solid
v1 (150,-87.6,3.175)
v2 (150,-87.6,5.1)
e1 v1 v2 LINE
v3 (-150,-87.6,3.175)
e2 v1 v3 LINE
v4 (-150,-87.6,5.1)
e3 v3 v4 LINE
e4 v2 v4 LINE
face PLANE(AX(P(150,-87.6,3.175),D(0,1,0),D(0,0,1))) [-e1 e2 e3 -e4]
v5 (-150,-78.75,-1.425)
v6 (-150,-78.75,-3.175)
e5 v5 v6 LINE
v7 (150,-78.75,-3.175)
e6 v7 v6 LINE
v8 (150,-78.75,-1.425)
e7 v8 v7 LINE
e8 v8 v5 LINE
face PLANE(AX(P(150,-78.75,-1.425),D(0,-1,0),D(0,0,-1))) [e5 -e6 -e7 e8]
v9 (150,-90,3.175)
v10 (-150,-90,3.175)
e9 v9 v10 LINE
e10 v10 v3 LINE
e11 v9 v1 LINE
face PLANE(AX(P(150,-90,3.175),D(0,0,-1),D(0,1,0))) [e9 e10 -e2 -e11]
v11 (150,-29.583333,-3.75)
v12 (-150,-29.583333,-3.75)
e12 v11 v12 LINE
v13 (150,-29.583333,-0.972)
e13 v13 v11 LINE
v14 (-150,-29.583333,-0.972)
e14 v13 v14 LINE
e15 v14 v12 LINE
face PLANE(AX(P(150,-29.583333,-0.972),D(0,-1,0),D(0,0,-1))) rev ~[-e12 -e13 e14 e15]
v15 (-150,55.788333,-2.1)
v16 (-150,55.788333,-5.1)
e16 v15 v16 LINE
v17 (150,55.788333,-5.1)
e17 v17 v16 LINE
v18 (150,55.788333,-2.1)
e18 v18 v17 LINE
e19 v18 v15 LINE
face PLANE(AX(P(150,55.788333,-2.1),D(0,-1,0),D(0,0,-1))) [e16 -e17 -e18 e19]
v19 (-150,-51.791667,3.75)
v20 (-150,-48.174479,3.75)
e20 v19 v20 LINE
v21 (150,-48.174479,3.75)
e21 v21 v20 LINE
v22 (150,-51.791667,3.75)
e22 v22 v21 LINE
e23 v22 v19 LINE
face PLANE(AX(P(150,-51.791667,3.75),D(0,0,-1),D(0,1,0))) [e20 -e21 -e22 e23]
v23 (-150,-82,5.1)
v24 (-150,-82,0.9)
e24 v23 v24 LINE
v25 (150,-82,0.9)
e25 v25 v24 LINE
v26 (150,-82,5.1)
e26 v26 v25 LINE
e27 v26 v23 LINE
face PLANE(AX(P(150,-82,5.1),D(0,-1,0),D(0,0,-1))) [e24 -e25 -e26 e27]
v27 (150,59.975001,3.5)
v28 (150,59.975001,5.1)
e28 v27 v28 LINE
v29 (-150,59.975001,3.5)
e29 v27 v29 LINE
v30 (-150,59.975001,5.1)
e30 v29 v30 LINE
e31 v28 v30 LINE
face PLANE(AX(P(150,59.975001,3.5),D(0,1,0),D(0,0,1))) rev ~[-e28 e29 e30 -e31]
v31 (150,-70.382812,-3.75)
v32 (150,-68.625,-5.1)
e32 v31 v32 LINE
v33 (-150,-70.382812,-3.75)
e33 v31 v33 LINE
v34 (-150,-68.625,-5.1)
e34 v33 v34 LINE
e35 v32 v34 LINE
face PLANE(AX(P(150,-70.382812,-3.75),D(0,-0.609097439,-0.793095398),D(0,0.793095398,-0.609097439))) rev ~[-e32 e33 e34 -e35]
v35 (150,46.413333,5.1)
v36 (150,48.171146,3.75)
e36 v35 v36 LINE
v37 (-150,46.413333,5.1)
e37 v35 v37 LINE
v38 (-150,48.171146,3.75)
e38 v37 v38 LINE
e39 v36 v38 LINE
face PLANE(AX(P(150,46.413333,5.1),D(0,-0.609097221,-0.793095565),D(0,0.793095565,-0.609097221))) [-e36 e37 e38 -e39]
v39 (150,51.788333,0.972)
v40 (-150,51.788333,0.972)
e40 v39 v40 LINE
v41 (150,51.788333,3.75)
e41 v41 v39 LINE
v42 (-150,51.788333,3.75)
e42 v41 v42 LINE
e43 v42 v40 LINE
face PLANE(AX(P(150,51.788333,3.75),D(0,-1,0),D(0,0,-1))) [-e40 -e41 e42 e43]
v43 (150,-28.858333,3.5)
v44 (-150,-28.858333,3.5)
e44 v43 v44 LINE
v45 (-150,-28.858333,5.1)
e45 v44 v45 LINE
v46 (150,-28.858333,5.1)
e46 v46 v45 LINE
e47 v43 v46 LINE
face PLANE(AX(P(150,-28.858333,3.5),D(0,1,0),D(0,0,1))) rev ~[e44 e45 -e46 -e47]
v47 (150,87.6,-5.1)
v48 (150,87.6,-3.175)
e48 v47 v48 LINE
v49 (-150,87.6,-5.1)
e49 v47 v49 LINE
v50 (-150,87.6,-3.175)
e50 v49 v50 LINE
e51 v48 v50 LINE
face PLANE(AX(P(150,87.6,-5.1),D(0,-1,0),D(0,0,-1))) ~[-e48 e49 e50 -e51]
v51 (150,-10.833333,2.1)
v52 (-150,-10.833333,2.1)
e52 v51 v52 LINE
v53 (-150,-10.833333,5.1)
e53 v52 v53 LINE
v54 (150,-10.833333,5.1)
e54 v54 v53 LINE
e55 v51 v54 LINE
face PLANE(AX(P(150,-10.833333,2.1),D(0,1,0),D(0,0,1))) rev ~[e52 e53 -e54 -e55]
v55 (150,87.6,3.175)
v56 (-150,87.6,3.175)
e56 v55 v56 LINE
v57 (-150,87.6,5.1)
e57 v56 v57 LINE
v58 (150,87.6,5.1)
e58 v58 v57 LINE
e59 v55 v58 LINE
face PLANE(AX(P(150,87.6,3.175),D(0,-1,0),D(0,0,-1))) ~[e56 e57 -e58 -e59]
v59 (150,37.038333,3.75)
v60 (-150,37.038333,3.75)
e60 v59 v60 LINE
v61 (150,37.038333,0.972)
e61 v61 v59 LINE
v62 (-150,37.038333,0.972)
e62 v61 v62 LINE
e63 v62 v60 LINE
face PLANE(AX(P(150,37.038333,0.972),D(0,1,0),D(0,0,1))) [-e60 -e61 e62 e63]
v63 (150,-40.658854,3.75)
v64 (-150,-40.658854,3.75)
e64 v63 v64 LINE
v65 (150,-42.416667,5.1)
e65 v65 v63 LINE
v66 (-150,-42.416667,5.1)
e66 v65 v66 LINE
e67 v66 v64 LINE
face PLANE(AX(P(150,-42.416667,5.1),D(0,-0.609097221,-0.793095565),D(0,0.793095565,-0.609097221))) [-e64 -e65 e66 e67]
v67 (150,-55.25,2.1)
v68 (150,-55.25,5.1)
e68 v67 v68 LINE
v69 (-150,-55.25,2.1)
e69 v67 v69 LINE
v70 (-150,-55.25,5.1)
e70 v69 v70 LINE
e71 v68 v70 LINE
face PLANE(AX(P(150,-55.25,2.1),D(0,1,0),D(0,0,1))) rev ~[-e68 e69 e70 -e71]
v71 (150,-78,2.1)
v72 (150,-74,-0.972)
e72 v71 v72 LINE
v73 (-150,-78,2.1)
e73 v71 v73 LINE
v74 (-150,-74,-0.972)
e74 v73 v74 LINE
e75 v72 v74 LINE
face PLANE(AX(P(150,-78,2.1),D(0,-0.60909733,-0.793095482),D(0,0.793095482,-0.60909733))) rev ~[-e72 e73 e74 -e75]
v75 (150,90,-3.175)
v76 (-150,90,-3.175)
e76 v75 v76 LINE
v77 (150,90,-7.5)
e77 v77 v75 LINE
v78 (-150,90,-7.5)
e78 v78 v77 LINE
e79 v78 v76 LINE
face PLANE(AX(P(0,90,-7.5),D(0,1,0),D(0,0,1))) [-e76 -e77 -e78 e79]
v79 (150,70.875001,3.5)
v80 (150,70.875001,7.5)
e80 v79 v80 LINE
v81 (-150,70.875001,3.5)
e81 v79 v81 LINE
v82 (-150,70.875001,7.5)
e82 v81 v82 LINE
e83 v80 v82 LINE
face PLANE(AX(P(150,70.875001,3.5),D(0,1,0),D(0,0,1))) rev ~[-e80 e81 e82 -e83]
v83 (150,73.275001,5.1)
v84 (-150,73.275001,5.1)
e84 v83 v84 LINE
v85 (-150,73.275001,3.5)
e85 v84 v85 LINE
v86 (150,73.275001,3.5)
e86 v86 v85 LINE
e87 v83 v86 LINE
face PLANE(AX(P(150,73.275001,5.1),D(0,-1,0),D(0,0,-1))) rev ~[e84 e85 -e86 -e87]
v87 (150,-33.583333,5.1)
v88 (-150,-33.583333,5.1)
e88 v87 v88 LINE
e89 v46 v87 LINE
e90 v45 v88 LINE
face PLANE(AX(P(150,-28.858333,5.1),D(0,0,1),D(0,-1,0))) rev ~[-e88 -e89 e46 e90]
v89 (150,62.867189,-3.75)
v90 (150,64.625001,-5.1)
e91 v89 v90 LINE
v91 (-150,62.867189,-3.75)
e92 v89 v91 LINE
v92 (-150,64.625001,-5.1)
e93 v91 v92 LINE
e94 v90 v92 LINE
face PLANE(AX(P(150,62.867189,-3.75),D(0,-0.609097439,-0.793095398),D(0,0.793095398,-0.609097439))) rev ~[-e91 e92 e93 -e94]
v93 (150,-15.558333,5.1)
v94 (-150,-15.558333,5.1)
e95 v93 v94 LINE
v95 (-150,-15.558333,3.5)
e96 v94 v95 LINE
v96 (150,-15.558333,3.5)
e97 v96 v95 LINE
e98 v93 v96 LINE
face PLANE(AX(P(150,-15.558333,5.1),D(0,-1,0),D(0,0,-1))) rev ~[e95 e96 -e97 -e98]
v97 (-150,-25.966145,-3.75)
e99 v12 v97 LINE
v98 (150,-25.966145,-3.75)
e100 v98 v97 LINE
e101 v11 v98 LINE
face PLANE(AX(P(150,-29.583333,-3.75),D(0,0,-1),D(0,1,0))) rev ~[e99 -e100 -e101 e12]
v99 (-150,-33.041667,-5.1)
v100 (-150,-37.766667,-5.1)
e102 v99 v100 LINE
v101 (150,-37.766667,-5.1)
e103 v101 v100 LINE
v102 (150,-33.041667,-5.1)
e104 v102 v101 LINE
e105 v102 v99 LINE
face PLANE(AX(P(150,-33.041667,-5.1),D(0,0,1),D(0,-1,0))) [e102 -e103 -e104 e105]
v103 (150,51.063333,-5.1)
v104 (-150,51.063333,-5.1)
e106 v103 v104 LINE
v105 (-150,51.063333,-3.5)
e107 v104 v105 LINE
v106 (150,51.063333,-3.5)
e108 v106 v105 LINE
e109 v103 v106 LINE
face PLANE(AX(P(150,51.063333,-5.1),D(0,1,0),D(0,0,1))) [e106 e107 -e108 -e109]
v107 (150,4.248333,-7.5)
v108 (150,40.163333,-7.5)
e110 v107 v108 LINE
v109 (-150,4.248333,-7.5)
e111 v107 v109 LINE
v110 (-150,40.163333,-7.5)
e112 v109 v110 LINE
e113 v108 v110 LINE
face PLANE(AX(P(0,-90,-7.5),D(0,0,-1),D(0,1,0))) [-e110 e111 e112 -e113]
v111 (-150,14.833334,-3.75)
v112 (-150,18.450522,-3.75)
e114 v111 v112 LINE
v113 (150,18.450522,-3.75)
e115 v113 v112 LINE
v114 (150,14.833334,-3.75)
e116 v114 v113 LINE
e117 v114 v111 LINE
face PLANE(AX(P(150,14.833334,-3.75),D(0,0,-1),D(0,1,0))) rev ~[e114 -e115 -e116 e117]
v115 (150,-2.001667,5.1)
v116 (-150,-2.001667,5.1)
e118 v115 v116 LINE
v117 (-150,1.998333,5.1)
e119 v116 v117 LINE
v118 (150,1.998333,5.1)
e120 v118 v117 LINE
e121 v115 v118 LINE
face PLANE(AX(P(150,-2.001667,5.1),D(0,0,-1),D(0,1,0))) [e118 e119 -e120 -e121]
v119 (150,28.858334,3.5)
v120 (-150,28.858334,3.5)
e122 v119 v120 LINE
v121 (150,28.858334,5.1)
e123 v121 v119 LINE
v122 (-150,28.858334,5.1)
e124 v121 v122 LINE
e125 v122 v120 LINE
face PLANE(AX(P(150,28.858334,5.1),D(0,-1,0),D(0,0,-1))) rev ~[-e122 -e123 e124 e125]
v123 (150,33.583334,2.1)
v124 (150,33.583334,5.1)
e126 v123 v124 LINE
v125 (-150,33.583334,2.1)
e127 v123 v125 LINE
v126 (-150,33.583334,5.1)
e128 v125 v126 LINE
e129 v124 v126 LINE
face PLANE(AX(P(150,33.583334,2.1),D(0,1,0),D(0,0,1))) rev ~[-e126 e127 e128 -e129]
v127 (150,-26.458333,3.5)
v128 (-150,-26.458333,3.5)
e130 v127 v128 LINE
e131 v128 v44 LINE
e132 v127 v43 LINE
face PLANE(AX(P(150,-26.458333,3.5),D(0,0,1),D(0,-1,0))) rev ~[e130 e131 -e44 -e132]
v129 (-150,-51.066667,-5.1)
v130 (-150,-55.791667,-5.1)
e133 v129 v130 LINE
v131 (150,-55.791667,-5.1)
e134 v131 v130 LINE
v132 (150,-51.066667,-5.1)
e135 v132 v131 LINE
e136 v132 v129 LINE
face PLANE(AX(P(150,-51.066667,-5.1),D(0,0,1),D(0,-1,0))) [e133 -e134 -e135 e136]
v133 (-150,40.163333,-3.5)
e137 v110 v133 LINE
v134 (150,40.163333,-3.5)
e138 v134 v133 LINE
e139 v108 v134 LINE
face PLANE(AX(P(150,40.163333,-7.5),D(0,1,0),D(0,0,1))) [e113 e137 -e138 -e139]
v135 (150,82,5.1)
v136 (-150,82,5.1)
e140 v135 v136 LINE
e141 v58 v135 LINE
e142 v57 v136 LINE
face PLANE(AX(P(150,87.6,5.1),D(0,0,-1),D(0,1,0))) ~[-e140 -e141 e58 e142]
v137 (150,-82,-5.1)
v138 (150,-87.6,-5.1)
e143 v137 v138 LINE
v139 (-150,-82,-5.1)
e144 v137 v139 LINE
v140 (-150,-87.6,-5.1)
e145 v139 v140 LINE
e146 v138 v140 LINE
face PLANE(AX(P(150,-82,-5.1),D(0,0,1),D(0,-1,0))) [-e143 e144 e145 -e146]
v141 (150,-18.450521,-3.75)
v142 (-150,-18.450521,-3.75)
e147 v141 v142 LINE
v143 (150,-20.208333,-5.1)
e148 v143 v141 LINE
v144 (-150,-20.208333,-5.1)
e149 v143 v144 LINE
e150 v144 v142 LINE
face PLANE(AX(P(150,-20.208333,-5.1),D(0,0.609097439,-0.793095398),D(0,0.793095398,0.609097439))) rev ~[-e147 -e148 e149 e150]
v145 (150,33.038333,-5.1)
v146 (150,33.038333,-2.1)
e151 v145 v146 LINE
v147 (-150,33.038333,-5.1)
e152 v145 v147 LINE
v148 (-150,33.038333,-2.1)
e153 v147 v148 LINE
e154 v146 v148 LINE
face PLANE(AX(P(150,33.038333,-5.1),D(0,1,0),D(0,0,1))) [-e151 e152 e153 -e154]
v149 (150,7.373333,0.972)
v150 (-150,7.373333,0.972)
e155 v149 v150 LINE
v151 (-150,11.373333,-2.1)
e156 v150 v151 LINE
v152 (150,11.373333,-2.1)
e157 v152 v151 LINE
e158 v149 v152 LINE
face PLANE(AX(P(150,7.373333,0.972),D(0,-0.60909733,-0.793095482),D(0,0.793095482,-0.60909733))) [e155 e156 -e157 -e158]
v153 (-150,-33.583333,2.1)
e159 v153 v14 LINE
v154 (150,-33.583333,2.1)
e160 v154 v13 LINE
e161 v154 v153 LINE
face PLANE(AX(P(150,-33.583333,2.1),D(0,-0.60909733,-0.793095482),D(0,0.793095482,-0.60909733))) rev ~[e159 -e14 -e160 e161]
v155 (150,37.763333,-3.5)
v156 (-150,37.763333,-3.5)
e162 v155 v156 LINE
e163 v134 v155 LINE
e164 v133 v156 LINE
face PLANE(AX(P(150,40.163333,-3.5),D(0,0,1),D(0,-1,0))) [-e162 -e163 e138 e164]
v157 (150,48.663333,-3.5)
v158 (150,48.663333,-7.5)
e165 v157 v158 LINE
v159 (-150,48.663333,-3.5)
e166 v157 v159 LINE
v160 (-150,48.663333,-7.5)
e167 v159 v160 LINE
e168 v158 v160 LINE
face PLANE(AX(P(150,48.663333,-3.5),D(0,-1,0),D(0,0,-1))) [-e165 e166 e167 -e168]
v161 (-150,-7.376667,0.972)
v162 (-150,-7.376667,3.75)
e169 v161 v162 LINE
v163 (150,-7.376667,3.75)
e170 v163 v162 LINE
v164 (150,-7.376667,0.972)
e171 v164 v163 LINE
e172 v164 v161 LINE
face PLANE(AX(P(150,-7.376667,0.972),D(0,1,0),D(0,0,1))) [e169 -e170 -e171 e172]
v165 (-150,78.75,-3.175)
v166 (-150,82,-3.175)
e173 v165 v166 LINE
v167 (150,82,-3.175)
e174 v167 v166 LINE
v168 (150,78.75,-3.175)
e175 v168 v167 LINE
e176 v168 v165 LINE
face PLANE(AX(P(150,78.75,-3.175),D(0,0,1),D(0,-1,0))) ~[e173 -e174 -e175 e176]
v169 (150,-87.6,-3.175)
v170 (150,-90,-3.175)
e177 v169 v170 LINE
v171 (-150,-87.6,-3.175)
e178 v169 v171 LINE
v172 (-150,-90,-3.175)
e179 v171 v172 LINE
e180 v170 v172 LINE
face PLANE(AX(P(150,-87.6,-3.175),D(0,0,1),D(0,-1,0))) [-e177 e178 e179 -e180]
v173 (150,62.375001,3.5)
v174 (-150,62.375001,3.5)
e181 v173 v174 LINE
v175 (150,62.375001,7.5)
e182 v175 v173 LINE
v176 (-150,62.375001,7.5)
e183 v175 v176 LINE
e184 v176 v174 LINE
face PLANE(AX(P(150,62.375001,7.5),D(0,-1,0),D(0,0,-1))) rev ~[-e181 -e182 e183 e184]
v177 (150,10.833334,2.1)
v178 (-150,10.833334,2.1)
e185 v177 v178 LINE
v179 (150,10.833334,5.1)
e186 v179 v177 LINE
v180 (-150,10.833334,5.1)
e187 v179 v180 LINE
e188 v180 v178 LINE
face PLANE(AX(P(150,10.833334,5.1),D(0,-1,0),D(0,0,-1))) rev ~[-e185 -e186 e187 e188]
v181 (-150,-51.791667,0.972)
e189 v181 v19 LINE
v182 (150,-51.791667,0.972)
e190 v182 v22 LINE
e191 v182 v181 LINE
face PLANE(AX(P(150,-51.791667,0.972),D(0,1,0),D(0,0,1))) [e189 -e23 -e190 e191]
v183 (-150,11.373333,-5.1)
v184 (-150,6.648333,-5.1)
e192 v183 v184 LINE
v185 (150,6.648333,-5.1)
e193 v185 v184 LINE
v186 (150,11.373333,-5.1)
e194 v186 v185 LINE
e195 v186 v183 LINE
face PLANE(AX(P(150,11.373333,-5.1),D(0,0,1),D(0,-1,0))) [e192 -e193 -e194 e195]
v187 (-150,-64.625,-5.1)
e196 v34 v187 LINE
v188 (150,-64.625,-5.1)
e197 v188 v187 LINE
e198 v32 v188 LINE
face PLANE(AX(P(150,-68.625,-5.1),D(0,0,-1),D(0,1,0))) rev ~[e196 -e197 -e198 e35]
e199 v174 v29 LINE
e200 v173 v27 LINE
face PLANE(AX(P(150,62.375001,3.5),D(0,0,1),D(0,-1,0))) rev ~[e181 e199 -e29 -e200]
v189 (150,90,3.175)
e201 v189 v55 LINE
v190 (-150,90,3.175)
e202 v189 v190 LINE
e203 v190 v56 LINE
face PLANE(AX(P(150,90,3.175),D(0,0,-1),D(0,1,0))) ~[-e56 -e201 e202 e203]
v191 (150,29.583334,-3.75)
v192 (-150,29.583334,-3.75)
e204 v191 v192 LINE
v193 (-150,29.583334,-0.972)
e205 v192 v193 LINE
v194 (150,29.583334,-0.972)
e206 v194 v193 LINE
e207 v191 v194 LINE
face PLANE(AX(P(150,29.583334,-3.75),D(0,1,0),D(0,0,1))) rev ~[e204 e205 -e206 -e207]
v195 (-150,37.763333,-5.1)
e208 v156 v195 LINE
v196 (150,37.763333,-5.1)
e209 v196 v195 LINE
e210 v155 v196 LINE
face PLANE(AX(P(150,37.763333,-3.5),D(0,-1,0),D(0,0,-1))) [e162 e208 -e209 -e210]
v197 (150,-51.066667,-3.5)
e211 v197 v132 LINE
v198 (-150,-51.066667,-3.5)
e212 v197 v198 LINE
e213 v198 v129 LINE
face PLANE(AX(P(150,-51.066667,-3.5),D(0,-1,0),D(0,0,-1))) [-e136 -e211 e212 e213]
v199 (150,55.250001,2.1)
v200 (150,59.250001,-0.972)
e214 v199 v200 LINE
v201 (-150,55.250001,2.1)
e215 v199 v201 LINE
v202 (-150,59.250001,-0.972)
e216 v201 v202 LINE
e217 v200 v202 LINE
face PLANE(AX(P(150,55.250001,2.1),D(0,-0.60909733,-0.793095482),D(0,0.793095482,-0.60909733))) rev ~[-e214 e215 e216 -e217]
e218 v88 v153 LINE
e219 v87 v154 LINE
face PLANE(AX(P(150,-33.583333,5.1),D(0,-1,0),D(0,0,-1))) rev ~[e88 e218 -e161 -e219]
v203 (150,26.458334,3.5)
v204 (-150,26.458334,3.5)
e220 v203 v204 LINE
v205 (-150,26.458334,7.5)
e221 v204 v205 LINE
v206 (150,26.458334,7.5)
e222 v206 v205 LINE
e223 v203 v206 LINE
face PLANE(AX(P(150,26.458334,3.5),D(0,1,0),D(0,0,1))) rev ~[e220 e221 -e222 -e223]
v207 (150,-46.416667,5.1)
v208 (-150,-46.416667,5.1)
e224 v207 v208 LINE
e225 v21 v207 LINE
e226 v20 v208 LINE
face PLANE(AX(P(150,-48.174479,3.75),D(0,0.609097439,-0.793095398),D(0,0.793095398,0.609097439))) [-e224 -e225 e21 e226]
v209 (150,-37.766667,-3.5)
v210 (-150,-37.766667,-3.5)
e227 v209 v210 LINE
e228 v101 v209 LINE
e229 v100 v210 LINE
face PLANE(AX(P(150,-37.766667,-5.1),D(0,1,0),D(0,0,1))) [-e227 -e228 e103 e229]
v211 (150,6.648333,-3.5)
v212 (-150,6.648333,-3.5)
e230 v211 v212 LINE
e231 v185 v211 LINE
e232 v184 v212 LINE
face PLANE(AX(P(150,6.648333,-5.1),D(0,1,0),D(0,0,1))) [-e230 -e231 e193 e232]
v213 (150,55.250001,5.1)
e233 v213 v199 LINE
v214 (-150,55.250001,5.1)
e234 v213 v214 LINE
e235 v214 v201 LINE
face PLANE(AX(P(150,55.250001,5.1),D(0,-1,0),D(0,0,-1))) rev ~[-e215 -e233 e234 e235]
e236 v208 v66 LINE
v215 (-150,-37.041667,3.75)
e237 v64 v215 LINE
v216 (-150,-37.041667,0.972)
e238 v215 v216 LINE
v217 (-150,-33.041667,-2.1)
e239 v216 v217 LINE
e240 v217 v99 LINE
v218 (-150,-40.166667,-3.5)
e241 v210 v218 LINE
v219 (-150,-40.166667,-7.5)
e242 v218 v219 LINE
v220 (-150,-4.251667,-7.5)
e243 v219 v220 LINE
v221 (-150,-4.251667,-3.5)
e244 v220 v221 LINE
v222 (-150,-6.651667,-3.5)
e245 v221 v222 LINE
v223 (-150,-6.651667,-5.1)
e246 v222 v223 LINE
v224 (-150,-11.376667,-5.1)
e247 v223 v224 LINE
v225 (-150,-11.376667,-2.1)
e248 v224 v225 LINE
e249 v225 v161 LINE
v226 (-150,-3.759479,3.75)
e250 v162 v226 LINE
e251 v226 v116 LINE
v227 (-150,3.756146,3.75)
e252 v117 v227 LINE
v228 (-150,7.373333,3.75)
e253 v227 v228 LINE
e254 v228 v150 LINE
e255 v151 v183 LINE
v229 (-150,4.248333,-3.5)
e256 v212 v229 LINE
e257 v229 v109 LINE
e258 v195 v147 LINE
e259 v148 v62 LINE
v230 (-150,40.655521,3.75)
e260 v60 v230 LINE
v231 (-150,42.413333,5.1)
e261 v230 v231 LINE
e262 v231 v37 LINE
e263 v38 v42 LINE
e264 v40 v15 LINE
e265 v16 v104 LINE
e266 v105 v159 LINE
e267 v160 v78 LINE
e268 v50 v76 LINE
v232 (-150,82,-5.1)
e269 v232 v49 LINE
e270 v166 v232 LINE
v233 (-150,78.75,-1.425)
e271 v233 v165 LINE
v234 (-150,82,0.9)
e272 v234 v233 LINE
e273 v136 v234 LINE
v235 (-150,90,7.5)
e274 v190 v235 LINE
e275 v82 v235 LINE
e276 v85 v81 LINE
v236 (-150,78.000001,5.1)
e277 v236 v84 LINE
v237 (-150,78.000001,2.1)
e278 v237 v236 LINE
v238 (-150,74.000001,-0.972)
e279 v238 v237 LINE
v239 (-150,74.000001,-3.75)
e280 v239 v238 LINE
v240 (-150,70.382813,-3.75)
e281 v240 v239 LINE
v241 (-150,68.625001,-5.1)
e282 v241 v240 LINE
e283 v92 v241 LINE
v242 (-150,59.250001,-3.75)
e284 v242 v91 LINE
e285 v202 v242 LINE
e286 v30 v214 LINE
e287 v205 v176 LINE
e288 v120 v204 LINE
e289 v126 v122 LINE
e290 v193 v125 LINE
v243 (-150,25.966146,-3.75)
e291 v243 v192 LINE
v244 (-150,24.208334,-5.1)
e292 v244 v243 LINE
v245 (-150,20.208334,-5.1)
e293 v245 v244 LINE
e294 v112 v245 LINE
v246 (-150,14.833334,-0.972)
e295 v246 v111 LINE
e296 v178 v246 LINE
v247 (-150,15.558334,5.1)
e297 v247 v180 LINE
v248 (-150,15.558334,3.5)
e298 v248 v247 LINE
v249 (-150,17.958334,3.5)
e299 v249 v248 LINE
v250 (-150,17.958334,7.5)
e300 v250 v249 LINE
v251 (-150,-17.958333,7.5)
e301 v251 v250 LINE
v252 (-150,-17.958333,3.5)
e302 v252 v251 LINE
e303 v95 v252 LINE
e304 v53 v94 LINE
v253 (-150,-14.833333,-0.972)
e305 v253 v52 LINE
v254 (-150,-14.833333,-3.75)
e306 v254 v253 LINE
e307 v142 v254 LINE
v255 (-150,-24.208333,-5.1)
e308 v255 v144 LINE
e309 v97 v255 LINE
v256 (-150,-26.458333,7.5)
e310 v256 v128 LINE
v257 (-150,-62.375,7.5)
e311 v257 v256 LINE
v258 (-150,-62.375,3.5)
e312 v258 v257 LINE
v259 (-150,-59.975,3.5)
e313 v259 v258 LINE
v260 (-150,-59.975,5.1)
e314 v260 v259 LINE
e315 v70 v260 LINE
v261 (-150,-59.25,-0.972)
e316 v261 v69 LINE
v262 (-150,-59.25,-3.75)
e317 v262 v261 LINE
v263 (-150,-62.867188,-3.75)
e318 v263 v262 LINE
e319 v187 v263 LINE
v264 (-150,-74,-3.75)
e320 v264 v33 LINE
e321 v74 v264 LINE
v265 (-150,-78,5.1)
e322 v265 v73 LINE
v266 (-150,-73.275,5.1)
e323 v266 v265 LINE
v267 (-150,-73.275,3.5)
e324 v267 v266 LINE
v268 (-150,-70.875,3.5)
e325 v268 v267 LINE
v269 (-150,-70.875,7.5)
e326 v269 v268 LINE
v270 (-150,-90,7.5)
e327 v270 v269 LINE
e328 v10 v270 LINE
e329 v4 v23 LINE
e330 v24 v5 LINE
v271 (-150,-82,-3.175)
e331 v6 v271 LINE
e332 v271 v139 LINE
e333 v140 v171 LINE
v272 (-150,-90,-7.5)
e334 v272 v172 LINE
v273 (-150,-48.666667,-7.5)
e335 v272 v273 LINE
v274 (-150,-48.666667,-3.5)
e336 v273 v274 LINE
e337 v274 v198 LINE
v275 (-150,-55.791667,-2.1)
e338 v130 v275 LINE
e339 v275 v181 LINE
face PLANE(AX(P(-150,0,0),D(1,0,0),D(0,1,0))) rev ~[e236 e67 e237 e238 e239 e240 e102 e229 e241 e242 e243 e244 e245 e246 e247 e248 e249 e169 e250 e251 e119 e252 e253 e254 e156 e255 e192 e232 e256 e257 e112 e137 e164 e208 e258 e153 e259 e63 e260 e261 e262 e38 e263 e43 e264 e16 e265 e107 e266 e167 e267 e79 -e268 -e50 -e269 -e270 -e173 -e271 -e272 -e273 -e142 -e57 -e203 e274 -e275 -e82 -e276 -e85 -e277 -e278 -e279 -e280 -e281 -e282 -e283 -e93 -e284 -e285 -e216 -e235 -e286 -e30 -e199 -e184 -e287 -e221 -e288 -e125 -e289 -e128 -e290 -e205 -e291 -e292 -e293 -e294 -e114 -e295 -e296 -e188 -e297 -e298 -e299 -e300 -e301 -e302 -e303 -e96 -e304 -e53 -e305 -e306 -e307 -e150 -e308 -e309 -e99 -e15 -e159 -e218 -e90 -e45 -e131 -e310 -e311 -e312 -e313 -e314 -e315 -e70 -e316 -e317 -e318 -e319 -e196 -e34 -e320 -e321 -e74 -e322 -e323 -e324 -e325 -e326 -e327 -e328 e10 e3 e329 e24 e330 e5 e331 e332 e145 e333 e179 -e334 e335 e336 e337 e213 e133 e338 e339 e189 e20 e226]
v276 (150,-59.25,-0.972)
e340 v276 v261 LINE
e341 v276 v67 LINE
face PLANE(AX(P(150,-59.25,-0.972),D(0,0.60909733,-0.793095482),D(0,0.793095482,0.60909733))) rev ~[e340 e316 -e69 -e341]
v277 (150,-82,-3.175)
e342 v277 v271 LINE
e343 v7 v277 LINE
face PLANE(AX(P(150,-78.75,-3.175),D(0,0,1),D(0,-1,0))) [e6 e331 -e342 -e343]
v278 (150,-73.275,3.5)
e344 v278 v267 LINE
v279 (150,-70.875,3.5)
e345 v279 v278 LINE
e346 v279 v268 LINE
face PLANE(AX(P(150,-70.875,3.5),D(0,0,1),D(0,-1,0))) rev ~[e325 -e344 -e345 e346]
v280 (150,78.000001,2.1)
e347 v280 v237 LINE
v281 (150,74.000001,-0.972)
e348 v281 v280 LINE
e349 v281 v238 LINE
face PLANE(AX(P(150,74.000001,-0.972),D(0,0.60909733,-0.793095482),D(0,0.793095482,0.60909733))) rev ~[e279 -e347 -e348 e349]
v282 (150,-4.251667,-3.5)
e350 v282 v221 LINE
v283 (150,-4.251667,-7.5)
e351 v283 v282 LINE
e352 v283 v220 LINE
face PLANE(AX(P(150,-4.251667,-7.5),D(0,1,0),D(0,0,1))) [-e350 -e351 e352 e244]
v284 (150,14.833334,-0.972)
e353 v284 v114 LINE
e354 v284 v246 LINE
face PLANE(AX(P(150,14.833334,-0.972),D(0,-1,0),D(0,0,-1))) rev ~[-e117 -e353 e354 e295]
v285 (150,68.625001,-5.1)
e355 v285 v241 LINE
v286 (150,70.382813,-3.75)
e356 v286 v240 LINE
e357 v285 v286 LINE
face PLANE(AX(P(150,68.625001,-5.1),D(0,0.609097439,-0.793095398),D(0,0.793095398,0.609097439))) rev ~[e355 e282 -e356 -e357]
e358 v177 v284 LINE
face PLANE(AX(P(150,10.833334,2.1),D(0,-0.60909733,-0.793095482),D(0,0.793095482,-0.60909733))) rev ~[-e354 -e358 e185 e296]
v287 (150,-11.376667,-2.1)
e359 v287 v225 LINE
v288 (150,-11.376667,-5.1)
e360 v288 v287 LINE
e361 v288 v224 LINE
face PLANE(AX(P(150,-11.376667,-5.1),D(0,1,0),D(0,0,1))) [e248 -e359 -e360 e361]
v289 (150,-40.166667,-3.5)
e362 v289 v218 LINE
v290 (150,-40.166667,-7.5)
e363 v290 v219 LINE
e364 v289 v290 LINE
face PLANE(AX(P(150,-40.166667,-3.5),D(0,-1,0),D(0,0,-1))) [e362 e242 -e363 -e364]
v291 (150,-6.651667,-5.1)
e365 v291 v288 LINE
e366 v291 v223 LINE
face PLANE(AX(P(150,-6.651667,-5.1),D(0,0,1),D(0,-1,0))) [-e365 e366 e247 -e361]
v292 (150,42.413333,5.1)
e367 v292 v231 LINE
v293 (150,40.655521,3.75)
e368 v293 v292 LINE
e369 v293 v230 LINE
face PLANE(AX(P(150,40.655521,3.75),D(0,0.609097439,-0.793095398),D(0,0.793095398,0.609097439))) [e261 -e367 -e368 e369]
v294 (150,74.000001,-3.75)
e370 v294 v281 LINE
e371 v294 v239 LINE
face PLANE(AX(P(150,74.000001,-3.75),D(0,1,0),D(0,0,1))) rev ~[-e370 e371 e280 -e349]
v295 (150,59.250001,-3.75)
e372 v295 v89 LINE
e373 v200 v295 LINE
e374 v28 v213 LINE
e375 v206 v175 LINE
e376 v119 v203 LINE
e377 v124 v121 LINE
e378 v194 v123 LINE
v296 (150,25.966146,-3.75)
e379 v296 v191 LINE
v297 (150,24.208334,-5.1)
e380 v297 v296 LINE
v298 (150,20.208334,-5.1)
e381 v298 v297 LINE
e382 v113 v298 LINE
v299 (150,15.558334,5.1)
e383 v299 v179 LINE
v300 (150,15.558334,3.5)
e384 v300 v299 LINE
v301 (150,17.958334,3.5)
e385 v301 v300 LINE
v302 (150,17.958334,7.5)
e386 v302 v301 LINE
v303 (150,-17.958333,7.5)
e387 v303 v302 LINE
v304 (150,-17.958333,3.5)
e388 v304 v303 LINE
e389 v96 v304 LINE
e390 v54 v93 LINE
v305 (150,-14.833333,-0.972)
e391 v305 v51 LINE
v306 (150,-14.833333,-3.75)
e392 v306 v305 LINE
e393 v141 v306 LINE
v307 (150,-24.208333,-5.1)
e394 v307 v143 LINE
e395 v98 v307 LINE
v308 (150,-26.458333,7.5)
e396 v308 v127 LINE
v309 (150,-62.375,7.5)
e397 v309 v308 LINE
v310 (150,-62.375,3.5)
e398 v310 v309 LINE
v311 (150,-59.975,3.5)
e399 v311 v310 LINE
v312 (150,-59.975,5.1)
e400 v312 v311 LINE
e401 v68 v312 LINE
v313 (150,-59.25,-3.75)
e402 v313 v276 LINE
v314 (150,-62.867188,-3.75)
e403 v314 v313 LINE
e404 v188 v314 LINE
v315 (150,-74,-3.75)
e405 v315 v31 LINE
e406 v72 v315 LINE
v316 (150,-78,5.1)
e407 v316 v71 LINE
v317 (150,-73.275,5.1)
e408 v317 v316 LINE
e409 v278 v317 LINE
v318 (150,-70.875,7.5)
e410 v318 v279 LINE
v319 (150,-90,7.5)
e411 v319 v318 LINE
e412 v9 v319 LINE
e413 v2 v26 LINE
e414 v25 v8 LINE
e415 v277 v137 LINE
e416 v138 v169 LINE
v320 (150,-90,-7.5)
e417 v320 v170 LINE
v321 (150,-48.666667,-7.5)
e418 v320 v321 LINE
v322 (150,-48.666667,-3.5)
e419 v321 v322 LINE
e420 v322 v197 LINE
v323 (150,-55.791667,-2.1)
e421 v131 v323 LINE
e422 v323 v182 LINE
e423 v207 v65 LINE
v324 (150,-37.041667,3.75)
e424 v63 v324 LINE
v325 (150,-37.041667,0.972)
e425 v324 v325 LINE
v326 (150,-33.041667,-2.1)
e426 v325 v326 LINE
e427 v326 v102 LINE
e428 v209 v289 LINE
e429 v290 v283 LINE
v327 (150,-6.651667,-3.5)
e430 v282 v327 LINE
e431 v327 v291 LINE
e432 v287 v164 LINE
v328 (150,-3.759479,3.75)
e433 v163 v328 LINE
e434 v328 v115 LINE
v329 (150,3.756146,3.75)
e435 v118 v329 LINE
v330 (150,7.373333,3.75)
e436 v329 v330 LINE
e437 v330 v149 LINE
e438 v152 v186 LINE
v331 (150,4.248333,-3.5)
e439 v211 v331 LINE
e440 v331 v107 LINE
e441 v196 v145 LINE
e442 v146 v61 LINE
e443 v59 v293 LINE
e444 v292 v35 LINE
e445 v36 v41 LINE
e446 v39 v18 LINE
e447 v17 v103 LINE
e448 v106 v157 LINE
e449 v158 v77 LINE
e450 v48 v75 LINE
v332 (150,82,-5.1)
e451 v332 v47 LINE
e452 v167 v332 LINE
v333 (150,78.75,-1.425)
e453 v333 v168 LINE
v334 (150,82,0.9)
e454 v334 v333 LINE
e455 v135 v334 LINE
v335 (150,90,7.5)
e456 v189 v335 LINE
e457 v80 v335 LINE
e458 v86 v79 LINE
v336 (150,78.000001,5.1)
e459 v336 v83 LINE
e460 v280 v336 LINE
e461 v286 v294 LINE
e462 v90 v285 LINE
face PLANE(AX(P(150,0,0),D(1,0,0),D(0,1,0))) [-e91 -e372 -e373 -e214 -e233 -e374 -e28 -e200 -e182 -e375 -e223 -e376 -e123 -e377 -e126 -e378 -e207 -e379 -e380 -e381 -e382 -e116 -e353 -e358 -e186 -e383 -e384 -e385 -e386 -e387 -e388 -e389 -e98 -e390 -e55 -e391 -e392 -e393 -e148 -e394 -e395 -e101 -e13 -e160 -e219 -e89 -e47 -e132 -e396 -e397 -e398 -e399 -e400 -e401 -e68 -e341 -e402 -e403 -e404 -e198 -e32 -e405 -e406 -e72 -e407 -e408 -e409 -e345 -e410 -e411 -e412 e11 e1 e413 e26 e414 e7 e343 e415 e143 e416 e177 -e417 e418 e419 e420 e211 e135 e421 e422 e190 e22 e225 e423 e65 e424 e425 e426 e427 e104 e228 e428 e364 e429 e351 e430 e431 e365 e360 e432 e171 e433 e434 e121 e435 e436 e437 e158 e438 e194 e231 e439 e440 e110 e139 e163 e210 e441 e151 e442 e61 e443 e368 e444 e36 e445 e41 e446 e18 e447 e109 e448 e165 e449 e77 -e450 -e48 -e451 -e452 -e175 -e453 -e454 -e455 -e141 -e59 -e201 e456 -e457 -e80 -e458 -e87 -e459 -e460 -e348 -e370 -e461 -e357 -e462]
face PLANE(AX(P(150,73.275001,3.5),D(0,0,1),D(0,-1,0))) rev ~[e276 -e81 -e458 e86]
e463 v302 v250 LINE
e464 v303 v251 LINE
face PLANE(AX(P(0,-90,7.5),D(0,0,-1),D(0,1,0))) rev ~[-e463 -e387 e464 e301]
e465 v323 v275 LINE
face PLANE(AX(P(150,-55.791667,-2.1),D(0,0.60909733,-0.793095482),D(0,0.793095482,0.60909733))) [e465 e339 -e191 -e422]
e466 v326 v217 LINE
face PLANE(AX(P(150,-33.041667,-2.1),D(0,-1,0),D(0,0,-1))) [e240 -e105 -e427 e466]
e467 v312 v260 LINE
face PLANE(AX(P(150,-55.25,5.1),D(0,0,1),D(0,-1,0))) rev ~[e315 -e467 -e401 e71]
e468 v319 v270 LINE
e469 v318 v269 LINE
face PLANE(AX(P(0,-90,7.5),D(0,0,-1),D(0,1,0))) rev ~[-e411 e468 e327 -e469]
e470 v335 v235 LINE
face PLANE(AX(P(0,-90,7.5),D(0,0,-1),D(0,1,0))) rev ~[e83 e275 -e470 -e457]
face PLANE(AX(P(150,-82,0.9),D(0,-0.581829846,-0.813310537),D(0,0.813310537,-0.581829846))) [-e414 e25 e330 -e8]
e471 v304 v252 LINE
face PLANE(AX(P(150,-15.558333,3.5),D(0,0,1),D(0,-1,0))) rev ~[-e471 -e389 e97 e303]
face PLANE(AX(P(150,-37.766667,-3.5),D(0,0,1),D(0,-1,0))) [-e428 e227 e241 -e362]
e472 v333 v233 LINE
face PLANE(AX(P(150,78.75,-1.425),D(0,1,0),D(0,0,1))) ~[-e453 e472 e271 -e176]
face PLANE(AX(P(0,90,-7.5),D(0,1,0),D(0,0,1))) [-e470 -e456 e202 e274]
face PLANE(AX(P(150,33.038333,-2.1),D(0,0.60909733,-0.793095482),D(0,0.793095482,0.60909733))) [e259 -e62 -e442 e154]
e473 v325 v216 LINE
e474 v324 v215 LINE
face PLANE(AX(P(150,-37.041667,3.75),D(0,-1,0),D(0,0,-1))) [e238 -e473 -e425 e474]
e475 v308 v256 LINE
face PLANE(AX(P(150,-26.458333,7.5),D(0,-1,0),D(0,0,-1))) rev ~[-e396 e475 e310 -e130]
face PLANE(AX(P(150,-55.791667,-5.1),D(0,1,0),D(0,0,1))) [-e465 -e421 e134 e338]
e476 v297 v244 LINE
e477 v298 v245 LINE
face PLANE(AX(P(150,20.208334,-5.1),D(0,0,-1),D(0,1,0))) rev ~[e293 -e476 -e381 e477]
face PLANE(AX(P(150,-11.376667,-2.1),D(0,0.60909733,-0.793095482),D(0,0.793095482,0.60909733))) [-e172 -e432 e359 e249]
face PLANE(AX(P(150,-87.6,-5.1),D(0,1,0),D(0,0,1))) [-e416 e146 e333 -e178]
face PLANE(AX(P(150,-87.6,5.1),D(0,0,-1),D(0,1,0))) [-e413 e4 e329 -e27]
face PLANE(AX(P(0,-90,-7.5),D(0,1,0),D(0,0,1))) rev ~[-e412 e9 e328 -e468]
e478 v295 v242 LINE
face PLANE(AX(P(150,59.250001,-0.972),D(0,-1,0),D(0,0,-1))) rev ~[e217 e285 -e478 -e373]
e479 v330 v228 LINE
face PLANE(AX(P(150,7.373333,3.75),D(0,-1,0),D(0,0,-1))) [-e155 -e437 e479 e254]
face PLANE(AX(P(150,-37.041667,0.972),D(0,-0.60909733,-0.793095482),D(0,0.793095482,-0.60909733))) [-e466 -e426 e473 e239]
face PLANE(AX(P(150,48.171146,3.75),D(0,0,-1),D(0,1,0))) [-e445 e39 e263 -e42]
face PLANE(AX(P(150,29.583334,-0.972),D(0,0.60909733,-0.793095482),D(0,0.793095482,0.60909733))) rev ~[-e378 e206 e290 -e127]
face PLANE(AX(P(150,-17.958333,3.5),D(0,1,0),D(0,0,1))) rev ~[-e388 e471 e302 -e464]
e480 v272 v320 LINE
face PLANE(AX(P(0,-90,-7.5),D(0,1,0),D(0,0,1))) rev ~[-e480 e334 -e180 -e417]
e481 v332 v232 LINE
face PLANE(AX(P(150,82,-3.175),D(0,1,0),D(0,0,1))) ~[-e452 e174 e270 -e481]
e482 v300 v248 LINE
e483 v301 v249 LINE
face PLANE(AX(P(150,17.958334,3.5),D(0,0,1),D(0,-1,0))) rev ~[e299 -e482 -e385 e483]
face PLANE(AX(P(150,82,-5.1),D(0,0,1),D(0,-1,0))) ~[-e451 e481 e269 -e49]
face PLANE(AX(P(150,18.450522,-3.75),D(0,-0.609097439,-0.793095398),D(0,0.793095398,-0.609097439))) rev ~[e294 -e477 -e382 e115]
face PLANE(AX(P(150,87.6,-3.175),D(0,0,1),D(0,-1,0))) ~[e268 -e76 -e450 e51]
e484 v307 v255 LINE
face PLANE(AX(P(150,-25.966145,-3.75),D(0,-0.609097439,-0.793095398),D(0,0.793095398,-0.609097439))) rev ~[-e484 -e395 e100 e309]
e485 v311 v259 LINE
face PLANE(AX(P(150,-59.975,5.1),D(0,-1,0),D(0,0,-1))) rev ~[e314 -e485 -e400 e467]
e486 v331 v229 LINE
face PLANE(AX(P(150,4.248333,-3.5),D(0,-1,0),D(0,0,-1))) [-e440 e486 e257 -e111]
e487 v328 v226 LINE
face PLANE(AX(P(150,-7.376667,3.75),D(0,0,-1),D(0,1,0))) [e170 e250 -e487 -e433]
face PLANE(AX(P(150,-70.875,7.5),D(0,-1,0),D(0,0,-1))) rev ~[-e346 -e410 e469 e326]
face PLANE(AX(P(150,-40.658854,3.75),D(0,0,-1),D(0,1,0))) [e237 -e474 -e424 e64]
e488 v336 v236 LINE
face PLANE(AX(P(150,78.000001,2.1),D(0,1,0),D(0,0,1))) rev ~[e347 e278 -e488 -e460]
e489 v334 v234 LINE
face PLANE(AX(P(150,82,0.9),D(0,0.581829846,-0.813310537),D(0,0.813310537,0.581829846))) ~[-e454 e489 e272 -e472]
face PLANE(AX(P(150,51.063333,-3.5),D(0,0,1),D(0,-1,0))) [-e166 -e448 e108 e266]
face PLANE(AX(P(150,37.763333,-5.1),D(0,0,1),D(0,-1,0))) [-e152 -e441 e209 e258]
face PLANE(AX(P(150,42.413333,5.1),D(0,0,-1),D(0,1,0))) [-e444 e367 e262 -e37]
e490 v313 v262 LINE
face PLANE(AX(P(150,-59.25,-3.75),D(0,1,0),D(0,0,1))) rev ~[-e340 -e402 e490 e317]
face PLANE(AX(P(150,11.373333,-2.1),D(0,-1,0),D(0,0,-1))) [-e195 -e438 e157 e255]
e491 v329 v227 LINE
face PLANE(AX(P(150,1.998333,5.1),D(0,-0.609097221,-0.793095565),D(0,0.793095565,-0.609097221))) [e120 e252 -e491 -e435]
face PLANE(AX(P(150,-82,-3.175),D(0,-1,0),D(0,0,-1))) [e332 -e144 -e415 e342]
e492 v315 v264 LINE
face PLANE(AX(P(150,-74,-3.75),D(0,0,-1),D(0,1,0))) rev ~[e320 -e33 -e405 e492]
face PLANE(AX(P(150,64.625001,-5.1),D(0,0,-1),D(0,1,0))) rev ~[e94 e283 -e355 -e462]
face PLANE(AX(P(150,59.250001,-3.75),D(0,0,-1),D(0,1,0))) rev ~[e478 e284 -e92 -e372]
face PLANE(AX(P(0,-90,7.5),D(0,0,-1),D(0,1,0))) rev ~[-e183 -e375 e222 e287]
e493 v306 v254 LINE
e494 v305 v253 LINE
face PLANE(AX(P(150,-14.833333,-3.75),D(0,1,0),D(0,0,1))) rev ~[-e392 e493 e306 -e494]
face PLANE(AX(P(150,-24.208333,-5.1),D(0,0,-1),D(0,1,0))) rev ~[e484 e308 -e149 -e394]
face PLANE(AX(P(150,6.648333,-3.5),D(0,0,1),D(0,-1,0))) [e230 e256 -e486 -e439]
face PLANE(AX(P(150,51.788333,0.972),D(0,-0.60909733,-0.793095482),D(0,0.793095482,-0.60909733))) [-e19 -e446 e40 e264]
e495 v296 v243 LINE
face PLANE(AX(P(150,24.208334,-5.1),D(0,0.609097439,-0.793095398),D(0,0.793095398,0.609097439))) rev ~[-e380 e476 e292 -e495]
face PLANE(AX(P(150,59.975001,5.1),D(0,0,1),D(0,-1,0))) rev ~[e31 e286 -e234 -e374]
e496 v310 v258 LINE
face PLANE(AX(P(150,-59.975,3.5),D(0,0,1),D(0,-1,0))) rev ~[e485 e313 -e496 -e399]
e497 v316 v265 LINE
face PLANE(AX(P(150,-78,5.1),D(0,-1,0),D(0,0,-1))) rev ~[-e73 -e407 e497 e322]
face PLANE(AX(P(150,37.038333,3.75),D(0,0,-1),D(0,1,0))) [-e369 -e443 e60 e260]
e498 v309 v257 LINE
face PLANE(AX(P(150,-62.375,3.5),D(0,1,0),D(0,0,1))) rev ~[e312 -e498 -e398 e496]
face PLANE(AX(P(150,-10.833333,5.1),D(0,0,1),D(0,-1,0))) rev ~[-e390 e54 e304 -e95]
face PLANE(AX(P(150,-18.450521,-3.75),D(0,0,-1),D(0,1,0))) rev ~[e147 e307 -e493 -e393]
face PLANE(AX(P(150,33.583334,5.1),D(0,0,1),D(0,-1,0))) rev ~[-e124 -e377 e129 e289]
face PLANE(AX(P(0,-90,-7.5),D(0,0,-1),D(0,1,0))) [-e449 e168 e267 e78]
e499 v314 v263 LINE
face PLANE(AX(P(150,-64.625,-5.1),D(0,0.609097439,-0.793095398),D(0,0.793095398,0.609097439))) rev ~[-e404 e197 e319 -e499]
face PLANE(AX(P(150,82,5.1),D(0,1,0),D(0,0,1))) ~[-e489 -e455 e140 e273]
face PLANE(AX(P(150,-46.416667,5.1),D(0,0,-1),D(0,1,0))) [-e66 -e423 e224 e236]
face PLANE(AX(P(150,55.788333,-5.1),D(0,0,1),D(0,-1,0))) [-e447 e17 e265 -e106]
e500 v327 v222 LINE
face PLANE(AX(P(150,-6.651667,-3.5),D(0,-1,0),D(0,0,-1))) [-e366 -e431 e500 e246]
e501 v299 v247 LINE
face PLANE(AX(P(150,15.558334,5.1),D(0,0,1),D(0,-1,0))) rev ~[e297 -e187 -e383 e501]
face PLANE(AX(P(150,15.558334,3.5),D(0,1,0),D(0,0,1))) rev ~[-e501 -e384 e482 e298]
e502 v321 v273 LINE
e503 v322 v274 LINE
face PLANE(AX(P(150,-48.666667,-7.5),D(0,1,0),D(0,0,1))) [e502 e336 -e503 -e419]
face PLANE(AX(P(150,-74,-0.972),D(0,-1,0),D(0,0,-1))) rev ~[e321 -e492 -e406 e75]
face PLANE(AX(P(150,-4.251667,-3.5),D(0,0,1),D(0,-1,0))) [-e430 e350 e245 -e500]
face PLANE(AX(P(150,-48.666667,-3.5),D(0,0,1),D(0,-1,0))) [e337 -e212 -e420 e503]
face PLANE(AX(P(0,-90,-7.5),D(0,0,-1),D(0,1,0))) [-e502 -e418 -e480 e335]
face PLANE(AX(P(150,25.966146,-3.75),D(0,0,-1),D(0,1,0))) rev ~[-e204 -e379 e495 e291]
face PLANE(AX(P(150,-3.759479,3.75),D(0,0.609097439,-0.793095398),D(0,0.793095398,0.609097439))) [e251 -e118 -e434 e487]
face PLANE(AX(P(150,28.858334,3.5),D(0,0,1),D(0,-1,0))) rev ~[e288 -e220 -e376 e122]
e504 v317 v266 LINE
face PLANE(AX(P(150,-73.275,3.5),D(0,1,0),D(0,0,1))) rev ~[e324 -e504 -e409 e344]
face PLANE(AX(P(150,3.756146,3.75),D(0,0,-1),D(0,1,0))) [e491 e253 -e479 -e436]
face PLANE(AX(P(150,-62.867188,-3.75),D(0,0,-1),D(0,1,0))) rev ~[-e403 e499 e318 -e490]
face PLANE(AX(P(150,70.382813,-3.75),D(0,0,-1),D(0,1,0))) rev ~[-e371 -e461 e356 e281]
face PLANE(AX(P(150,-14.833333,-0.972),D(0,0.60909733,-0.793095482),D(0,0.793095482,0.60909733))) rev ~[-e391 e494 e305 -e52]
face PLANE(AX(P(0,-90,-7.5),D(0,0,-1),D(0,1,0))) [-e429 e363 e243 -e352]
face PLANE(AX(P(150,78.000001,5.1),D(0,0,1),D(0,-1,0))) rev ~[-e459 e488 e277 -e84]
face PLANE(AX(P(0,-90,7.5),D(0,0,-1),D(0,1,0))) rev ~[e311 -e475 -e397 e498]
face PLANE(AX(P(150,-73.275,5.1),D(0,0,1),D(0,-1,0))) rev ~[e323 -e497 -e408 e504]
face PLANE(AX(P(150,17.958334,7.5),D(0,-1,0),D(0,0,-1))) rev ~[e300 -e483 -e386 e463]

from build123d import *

# Parameters (mm, degrees)
SKETCH001_W            = 180
SKETCH001_H            = 15
PAD001_DEPTH           = 150
POCKET_DEPTH           = 1000.358052
POCKET001_DEPTH        = 300.001
LINEARPATTERN_COUNT    = 4
LINEARPATTERN_PITCH    = 44.416667
POCKET002_DEPTH        = 300.001
LINEARPATTERN001_COUNT = 3
LINEARPATTERN001_PITCH = 44.415


with BuildPart() as part:
    # Sketch001 → Pad001 (new body, symmetric)
    with BuildSketch(Plane.YZ):
        Rectangle(SKETCH001_W, SKETCH001_H)
    extrude(amount=PAD001_DEPTH, both=True)

    # Sketch002 (on Face6 of Pad001) → Pocket (cut, through all)
    with BuildSketch(Plane.YZ.offset(150)):
        Polygon((-90, 3.175), (-87.6, 3.175), (-87.6, 5.1), (-82, 5.1), (-82, 0.9), (-78.75, -1.425), (-78.75, -3.175), (-82, -3.175), (-82, -5.1), (-87.6, -5.1), (-87.6, -3.175), (-90, -3.175), align=None)
    pocket = extrude(amount=-POCKET_DEPTH, mode=Mode.SUBTRACT)

    # Mirrored: Pocket across XZ
    add(pocket.mirror(Plane.XZ), mode=Mode.SUBTRACT)

    # Sketch003 (on Face5 of Mirrored) → Pocket001 (cut, through all)
    with BuildSketch(Plane.YZ.offset(150)):
        Polygon((-70.875, 7.5), (-70.875, 3.5), (-73.275, 3.5), (-73.275, 5.1), (-78, 5.1), (-78, 2.1), (-74, -0.972), (-74, -3.75), (-70.382812, -3.75), (-68.625, -5.1), (-64.625, -5.1), (-62.867188, -3.75), (-59.25, -3.75), (-59.25, -0.972), (-55.25, 2.1), (-55.25, 5.1), (-59.975, 5.1), (-59.975, 3.5), (-62.375, 3.5), (-62.375, 7.5), align=None)
    pocket001 = extrude(amount=-POCKET001_DEPTH, mode=Mode.SUBTRACT)

    # LinearPattern: Pocket001 ×4
    with Locations(*[(0, i * LINEARPATTERN_PITCH, 0) for i in range(1, LINEARPATTERN_COUNT)]):
        add(pocket001, mode=Mode.SUBTRACT)

    # Sketch004 (on Face4 of LinearPattern) → Pocket002 (cut, through all)
    with BuildSketch(Plane.YZ.offset(150)):
        Polygon((-48.666667, -7.5), (-48.666667, -3.5), (-51.066667, -3.5), (-51.066667, -5.1), (-55.791667, -5.1), (-55.791667, -2.1), (-51.791667, 0.972), (-51.791667, 3.75), (-48.174479, 3.75), (-46.416667, 5.1), (-42.416667, 5.1), (-40.658854, 3.75), (-37.041667, 3.75), (-37.041667, 0.972), (-33.041667, -2.1), (-33.041667, -5.1), (-37.766667, -5.1), (-37.766667, -3.5), (-40.166667, -3.5), (-40.166667, -7.5), align=None)
    pocket002 = extrude(amount=-POCKET002_DEPTH, mode=Mode.SUBTRACT)

    # LinearPattern001: Pocket002 ×3
    with Locations(*[(0, i * LINEARPATTERN001_PITCH, 0) for i in range(1, LINEARPATTERN001_COUNT)]):
        add(pocket002, mode=Mode.SUBTRACT)


solid = part.part
